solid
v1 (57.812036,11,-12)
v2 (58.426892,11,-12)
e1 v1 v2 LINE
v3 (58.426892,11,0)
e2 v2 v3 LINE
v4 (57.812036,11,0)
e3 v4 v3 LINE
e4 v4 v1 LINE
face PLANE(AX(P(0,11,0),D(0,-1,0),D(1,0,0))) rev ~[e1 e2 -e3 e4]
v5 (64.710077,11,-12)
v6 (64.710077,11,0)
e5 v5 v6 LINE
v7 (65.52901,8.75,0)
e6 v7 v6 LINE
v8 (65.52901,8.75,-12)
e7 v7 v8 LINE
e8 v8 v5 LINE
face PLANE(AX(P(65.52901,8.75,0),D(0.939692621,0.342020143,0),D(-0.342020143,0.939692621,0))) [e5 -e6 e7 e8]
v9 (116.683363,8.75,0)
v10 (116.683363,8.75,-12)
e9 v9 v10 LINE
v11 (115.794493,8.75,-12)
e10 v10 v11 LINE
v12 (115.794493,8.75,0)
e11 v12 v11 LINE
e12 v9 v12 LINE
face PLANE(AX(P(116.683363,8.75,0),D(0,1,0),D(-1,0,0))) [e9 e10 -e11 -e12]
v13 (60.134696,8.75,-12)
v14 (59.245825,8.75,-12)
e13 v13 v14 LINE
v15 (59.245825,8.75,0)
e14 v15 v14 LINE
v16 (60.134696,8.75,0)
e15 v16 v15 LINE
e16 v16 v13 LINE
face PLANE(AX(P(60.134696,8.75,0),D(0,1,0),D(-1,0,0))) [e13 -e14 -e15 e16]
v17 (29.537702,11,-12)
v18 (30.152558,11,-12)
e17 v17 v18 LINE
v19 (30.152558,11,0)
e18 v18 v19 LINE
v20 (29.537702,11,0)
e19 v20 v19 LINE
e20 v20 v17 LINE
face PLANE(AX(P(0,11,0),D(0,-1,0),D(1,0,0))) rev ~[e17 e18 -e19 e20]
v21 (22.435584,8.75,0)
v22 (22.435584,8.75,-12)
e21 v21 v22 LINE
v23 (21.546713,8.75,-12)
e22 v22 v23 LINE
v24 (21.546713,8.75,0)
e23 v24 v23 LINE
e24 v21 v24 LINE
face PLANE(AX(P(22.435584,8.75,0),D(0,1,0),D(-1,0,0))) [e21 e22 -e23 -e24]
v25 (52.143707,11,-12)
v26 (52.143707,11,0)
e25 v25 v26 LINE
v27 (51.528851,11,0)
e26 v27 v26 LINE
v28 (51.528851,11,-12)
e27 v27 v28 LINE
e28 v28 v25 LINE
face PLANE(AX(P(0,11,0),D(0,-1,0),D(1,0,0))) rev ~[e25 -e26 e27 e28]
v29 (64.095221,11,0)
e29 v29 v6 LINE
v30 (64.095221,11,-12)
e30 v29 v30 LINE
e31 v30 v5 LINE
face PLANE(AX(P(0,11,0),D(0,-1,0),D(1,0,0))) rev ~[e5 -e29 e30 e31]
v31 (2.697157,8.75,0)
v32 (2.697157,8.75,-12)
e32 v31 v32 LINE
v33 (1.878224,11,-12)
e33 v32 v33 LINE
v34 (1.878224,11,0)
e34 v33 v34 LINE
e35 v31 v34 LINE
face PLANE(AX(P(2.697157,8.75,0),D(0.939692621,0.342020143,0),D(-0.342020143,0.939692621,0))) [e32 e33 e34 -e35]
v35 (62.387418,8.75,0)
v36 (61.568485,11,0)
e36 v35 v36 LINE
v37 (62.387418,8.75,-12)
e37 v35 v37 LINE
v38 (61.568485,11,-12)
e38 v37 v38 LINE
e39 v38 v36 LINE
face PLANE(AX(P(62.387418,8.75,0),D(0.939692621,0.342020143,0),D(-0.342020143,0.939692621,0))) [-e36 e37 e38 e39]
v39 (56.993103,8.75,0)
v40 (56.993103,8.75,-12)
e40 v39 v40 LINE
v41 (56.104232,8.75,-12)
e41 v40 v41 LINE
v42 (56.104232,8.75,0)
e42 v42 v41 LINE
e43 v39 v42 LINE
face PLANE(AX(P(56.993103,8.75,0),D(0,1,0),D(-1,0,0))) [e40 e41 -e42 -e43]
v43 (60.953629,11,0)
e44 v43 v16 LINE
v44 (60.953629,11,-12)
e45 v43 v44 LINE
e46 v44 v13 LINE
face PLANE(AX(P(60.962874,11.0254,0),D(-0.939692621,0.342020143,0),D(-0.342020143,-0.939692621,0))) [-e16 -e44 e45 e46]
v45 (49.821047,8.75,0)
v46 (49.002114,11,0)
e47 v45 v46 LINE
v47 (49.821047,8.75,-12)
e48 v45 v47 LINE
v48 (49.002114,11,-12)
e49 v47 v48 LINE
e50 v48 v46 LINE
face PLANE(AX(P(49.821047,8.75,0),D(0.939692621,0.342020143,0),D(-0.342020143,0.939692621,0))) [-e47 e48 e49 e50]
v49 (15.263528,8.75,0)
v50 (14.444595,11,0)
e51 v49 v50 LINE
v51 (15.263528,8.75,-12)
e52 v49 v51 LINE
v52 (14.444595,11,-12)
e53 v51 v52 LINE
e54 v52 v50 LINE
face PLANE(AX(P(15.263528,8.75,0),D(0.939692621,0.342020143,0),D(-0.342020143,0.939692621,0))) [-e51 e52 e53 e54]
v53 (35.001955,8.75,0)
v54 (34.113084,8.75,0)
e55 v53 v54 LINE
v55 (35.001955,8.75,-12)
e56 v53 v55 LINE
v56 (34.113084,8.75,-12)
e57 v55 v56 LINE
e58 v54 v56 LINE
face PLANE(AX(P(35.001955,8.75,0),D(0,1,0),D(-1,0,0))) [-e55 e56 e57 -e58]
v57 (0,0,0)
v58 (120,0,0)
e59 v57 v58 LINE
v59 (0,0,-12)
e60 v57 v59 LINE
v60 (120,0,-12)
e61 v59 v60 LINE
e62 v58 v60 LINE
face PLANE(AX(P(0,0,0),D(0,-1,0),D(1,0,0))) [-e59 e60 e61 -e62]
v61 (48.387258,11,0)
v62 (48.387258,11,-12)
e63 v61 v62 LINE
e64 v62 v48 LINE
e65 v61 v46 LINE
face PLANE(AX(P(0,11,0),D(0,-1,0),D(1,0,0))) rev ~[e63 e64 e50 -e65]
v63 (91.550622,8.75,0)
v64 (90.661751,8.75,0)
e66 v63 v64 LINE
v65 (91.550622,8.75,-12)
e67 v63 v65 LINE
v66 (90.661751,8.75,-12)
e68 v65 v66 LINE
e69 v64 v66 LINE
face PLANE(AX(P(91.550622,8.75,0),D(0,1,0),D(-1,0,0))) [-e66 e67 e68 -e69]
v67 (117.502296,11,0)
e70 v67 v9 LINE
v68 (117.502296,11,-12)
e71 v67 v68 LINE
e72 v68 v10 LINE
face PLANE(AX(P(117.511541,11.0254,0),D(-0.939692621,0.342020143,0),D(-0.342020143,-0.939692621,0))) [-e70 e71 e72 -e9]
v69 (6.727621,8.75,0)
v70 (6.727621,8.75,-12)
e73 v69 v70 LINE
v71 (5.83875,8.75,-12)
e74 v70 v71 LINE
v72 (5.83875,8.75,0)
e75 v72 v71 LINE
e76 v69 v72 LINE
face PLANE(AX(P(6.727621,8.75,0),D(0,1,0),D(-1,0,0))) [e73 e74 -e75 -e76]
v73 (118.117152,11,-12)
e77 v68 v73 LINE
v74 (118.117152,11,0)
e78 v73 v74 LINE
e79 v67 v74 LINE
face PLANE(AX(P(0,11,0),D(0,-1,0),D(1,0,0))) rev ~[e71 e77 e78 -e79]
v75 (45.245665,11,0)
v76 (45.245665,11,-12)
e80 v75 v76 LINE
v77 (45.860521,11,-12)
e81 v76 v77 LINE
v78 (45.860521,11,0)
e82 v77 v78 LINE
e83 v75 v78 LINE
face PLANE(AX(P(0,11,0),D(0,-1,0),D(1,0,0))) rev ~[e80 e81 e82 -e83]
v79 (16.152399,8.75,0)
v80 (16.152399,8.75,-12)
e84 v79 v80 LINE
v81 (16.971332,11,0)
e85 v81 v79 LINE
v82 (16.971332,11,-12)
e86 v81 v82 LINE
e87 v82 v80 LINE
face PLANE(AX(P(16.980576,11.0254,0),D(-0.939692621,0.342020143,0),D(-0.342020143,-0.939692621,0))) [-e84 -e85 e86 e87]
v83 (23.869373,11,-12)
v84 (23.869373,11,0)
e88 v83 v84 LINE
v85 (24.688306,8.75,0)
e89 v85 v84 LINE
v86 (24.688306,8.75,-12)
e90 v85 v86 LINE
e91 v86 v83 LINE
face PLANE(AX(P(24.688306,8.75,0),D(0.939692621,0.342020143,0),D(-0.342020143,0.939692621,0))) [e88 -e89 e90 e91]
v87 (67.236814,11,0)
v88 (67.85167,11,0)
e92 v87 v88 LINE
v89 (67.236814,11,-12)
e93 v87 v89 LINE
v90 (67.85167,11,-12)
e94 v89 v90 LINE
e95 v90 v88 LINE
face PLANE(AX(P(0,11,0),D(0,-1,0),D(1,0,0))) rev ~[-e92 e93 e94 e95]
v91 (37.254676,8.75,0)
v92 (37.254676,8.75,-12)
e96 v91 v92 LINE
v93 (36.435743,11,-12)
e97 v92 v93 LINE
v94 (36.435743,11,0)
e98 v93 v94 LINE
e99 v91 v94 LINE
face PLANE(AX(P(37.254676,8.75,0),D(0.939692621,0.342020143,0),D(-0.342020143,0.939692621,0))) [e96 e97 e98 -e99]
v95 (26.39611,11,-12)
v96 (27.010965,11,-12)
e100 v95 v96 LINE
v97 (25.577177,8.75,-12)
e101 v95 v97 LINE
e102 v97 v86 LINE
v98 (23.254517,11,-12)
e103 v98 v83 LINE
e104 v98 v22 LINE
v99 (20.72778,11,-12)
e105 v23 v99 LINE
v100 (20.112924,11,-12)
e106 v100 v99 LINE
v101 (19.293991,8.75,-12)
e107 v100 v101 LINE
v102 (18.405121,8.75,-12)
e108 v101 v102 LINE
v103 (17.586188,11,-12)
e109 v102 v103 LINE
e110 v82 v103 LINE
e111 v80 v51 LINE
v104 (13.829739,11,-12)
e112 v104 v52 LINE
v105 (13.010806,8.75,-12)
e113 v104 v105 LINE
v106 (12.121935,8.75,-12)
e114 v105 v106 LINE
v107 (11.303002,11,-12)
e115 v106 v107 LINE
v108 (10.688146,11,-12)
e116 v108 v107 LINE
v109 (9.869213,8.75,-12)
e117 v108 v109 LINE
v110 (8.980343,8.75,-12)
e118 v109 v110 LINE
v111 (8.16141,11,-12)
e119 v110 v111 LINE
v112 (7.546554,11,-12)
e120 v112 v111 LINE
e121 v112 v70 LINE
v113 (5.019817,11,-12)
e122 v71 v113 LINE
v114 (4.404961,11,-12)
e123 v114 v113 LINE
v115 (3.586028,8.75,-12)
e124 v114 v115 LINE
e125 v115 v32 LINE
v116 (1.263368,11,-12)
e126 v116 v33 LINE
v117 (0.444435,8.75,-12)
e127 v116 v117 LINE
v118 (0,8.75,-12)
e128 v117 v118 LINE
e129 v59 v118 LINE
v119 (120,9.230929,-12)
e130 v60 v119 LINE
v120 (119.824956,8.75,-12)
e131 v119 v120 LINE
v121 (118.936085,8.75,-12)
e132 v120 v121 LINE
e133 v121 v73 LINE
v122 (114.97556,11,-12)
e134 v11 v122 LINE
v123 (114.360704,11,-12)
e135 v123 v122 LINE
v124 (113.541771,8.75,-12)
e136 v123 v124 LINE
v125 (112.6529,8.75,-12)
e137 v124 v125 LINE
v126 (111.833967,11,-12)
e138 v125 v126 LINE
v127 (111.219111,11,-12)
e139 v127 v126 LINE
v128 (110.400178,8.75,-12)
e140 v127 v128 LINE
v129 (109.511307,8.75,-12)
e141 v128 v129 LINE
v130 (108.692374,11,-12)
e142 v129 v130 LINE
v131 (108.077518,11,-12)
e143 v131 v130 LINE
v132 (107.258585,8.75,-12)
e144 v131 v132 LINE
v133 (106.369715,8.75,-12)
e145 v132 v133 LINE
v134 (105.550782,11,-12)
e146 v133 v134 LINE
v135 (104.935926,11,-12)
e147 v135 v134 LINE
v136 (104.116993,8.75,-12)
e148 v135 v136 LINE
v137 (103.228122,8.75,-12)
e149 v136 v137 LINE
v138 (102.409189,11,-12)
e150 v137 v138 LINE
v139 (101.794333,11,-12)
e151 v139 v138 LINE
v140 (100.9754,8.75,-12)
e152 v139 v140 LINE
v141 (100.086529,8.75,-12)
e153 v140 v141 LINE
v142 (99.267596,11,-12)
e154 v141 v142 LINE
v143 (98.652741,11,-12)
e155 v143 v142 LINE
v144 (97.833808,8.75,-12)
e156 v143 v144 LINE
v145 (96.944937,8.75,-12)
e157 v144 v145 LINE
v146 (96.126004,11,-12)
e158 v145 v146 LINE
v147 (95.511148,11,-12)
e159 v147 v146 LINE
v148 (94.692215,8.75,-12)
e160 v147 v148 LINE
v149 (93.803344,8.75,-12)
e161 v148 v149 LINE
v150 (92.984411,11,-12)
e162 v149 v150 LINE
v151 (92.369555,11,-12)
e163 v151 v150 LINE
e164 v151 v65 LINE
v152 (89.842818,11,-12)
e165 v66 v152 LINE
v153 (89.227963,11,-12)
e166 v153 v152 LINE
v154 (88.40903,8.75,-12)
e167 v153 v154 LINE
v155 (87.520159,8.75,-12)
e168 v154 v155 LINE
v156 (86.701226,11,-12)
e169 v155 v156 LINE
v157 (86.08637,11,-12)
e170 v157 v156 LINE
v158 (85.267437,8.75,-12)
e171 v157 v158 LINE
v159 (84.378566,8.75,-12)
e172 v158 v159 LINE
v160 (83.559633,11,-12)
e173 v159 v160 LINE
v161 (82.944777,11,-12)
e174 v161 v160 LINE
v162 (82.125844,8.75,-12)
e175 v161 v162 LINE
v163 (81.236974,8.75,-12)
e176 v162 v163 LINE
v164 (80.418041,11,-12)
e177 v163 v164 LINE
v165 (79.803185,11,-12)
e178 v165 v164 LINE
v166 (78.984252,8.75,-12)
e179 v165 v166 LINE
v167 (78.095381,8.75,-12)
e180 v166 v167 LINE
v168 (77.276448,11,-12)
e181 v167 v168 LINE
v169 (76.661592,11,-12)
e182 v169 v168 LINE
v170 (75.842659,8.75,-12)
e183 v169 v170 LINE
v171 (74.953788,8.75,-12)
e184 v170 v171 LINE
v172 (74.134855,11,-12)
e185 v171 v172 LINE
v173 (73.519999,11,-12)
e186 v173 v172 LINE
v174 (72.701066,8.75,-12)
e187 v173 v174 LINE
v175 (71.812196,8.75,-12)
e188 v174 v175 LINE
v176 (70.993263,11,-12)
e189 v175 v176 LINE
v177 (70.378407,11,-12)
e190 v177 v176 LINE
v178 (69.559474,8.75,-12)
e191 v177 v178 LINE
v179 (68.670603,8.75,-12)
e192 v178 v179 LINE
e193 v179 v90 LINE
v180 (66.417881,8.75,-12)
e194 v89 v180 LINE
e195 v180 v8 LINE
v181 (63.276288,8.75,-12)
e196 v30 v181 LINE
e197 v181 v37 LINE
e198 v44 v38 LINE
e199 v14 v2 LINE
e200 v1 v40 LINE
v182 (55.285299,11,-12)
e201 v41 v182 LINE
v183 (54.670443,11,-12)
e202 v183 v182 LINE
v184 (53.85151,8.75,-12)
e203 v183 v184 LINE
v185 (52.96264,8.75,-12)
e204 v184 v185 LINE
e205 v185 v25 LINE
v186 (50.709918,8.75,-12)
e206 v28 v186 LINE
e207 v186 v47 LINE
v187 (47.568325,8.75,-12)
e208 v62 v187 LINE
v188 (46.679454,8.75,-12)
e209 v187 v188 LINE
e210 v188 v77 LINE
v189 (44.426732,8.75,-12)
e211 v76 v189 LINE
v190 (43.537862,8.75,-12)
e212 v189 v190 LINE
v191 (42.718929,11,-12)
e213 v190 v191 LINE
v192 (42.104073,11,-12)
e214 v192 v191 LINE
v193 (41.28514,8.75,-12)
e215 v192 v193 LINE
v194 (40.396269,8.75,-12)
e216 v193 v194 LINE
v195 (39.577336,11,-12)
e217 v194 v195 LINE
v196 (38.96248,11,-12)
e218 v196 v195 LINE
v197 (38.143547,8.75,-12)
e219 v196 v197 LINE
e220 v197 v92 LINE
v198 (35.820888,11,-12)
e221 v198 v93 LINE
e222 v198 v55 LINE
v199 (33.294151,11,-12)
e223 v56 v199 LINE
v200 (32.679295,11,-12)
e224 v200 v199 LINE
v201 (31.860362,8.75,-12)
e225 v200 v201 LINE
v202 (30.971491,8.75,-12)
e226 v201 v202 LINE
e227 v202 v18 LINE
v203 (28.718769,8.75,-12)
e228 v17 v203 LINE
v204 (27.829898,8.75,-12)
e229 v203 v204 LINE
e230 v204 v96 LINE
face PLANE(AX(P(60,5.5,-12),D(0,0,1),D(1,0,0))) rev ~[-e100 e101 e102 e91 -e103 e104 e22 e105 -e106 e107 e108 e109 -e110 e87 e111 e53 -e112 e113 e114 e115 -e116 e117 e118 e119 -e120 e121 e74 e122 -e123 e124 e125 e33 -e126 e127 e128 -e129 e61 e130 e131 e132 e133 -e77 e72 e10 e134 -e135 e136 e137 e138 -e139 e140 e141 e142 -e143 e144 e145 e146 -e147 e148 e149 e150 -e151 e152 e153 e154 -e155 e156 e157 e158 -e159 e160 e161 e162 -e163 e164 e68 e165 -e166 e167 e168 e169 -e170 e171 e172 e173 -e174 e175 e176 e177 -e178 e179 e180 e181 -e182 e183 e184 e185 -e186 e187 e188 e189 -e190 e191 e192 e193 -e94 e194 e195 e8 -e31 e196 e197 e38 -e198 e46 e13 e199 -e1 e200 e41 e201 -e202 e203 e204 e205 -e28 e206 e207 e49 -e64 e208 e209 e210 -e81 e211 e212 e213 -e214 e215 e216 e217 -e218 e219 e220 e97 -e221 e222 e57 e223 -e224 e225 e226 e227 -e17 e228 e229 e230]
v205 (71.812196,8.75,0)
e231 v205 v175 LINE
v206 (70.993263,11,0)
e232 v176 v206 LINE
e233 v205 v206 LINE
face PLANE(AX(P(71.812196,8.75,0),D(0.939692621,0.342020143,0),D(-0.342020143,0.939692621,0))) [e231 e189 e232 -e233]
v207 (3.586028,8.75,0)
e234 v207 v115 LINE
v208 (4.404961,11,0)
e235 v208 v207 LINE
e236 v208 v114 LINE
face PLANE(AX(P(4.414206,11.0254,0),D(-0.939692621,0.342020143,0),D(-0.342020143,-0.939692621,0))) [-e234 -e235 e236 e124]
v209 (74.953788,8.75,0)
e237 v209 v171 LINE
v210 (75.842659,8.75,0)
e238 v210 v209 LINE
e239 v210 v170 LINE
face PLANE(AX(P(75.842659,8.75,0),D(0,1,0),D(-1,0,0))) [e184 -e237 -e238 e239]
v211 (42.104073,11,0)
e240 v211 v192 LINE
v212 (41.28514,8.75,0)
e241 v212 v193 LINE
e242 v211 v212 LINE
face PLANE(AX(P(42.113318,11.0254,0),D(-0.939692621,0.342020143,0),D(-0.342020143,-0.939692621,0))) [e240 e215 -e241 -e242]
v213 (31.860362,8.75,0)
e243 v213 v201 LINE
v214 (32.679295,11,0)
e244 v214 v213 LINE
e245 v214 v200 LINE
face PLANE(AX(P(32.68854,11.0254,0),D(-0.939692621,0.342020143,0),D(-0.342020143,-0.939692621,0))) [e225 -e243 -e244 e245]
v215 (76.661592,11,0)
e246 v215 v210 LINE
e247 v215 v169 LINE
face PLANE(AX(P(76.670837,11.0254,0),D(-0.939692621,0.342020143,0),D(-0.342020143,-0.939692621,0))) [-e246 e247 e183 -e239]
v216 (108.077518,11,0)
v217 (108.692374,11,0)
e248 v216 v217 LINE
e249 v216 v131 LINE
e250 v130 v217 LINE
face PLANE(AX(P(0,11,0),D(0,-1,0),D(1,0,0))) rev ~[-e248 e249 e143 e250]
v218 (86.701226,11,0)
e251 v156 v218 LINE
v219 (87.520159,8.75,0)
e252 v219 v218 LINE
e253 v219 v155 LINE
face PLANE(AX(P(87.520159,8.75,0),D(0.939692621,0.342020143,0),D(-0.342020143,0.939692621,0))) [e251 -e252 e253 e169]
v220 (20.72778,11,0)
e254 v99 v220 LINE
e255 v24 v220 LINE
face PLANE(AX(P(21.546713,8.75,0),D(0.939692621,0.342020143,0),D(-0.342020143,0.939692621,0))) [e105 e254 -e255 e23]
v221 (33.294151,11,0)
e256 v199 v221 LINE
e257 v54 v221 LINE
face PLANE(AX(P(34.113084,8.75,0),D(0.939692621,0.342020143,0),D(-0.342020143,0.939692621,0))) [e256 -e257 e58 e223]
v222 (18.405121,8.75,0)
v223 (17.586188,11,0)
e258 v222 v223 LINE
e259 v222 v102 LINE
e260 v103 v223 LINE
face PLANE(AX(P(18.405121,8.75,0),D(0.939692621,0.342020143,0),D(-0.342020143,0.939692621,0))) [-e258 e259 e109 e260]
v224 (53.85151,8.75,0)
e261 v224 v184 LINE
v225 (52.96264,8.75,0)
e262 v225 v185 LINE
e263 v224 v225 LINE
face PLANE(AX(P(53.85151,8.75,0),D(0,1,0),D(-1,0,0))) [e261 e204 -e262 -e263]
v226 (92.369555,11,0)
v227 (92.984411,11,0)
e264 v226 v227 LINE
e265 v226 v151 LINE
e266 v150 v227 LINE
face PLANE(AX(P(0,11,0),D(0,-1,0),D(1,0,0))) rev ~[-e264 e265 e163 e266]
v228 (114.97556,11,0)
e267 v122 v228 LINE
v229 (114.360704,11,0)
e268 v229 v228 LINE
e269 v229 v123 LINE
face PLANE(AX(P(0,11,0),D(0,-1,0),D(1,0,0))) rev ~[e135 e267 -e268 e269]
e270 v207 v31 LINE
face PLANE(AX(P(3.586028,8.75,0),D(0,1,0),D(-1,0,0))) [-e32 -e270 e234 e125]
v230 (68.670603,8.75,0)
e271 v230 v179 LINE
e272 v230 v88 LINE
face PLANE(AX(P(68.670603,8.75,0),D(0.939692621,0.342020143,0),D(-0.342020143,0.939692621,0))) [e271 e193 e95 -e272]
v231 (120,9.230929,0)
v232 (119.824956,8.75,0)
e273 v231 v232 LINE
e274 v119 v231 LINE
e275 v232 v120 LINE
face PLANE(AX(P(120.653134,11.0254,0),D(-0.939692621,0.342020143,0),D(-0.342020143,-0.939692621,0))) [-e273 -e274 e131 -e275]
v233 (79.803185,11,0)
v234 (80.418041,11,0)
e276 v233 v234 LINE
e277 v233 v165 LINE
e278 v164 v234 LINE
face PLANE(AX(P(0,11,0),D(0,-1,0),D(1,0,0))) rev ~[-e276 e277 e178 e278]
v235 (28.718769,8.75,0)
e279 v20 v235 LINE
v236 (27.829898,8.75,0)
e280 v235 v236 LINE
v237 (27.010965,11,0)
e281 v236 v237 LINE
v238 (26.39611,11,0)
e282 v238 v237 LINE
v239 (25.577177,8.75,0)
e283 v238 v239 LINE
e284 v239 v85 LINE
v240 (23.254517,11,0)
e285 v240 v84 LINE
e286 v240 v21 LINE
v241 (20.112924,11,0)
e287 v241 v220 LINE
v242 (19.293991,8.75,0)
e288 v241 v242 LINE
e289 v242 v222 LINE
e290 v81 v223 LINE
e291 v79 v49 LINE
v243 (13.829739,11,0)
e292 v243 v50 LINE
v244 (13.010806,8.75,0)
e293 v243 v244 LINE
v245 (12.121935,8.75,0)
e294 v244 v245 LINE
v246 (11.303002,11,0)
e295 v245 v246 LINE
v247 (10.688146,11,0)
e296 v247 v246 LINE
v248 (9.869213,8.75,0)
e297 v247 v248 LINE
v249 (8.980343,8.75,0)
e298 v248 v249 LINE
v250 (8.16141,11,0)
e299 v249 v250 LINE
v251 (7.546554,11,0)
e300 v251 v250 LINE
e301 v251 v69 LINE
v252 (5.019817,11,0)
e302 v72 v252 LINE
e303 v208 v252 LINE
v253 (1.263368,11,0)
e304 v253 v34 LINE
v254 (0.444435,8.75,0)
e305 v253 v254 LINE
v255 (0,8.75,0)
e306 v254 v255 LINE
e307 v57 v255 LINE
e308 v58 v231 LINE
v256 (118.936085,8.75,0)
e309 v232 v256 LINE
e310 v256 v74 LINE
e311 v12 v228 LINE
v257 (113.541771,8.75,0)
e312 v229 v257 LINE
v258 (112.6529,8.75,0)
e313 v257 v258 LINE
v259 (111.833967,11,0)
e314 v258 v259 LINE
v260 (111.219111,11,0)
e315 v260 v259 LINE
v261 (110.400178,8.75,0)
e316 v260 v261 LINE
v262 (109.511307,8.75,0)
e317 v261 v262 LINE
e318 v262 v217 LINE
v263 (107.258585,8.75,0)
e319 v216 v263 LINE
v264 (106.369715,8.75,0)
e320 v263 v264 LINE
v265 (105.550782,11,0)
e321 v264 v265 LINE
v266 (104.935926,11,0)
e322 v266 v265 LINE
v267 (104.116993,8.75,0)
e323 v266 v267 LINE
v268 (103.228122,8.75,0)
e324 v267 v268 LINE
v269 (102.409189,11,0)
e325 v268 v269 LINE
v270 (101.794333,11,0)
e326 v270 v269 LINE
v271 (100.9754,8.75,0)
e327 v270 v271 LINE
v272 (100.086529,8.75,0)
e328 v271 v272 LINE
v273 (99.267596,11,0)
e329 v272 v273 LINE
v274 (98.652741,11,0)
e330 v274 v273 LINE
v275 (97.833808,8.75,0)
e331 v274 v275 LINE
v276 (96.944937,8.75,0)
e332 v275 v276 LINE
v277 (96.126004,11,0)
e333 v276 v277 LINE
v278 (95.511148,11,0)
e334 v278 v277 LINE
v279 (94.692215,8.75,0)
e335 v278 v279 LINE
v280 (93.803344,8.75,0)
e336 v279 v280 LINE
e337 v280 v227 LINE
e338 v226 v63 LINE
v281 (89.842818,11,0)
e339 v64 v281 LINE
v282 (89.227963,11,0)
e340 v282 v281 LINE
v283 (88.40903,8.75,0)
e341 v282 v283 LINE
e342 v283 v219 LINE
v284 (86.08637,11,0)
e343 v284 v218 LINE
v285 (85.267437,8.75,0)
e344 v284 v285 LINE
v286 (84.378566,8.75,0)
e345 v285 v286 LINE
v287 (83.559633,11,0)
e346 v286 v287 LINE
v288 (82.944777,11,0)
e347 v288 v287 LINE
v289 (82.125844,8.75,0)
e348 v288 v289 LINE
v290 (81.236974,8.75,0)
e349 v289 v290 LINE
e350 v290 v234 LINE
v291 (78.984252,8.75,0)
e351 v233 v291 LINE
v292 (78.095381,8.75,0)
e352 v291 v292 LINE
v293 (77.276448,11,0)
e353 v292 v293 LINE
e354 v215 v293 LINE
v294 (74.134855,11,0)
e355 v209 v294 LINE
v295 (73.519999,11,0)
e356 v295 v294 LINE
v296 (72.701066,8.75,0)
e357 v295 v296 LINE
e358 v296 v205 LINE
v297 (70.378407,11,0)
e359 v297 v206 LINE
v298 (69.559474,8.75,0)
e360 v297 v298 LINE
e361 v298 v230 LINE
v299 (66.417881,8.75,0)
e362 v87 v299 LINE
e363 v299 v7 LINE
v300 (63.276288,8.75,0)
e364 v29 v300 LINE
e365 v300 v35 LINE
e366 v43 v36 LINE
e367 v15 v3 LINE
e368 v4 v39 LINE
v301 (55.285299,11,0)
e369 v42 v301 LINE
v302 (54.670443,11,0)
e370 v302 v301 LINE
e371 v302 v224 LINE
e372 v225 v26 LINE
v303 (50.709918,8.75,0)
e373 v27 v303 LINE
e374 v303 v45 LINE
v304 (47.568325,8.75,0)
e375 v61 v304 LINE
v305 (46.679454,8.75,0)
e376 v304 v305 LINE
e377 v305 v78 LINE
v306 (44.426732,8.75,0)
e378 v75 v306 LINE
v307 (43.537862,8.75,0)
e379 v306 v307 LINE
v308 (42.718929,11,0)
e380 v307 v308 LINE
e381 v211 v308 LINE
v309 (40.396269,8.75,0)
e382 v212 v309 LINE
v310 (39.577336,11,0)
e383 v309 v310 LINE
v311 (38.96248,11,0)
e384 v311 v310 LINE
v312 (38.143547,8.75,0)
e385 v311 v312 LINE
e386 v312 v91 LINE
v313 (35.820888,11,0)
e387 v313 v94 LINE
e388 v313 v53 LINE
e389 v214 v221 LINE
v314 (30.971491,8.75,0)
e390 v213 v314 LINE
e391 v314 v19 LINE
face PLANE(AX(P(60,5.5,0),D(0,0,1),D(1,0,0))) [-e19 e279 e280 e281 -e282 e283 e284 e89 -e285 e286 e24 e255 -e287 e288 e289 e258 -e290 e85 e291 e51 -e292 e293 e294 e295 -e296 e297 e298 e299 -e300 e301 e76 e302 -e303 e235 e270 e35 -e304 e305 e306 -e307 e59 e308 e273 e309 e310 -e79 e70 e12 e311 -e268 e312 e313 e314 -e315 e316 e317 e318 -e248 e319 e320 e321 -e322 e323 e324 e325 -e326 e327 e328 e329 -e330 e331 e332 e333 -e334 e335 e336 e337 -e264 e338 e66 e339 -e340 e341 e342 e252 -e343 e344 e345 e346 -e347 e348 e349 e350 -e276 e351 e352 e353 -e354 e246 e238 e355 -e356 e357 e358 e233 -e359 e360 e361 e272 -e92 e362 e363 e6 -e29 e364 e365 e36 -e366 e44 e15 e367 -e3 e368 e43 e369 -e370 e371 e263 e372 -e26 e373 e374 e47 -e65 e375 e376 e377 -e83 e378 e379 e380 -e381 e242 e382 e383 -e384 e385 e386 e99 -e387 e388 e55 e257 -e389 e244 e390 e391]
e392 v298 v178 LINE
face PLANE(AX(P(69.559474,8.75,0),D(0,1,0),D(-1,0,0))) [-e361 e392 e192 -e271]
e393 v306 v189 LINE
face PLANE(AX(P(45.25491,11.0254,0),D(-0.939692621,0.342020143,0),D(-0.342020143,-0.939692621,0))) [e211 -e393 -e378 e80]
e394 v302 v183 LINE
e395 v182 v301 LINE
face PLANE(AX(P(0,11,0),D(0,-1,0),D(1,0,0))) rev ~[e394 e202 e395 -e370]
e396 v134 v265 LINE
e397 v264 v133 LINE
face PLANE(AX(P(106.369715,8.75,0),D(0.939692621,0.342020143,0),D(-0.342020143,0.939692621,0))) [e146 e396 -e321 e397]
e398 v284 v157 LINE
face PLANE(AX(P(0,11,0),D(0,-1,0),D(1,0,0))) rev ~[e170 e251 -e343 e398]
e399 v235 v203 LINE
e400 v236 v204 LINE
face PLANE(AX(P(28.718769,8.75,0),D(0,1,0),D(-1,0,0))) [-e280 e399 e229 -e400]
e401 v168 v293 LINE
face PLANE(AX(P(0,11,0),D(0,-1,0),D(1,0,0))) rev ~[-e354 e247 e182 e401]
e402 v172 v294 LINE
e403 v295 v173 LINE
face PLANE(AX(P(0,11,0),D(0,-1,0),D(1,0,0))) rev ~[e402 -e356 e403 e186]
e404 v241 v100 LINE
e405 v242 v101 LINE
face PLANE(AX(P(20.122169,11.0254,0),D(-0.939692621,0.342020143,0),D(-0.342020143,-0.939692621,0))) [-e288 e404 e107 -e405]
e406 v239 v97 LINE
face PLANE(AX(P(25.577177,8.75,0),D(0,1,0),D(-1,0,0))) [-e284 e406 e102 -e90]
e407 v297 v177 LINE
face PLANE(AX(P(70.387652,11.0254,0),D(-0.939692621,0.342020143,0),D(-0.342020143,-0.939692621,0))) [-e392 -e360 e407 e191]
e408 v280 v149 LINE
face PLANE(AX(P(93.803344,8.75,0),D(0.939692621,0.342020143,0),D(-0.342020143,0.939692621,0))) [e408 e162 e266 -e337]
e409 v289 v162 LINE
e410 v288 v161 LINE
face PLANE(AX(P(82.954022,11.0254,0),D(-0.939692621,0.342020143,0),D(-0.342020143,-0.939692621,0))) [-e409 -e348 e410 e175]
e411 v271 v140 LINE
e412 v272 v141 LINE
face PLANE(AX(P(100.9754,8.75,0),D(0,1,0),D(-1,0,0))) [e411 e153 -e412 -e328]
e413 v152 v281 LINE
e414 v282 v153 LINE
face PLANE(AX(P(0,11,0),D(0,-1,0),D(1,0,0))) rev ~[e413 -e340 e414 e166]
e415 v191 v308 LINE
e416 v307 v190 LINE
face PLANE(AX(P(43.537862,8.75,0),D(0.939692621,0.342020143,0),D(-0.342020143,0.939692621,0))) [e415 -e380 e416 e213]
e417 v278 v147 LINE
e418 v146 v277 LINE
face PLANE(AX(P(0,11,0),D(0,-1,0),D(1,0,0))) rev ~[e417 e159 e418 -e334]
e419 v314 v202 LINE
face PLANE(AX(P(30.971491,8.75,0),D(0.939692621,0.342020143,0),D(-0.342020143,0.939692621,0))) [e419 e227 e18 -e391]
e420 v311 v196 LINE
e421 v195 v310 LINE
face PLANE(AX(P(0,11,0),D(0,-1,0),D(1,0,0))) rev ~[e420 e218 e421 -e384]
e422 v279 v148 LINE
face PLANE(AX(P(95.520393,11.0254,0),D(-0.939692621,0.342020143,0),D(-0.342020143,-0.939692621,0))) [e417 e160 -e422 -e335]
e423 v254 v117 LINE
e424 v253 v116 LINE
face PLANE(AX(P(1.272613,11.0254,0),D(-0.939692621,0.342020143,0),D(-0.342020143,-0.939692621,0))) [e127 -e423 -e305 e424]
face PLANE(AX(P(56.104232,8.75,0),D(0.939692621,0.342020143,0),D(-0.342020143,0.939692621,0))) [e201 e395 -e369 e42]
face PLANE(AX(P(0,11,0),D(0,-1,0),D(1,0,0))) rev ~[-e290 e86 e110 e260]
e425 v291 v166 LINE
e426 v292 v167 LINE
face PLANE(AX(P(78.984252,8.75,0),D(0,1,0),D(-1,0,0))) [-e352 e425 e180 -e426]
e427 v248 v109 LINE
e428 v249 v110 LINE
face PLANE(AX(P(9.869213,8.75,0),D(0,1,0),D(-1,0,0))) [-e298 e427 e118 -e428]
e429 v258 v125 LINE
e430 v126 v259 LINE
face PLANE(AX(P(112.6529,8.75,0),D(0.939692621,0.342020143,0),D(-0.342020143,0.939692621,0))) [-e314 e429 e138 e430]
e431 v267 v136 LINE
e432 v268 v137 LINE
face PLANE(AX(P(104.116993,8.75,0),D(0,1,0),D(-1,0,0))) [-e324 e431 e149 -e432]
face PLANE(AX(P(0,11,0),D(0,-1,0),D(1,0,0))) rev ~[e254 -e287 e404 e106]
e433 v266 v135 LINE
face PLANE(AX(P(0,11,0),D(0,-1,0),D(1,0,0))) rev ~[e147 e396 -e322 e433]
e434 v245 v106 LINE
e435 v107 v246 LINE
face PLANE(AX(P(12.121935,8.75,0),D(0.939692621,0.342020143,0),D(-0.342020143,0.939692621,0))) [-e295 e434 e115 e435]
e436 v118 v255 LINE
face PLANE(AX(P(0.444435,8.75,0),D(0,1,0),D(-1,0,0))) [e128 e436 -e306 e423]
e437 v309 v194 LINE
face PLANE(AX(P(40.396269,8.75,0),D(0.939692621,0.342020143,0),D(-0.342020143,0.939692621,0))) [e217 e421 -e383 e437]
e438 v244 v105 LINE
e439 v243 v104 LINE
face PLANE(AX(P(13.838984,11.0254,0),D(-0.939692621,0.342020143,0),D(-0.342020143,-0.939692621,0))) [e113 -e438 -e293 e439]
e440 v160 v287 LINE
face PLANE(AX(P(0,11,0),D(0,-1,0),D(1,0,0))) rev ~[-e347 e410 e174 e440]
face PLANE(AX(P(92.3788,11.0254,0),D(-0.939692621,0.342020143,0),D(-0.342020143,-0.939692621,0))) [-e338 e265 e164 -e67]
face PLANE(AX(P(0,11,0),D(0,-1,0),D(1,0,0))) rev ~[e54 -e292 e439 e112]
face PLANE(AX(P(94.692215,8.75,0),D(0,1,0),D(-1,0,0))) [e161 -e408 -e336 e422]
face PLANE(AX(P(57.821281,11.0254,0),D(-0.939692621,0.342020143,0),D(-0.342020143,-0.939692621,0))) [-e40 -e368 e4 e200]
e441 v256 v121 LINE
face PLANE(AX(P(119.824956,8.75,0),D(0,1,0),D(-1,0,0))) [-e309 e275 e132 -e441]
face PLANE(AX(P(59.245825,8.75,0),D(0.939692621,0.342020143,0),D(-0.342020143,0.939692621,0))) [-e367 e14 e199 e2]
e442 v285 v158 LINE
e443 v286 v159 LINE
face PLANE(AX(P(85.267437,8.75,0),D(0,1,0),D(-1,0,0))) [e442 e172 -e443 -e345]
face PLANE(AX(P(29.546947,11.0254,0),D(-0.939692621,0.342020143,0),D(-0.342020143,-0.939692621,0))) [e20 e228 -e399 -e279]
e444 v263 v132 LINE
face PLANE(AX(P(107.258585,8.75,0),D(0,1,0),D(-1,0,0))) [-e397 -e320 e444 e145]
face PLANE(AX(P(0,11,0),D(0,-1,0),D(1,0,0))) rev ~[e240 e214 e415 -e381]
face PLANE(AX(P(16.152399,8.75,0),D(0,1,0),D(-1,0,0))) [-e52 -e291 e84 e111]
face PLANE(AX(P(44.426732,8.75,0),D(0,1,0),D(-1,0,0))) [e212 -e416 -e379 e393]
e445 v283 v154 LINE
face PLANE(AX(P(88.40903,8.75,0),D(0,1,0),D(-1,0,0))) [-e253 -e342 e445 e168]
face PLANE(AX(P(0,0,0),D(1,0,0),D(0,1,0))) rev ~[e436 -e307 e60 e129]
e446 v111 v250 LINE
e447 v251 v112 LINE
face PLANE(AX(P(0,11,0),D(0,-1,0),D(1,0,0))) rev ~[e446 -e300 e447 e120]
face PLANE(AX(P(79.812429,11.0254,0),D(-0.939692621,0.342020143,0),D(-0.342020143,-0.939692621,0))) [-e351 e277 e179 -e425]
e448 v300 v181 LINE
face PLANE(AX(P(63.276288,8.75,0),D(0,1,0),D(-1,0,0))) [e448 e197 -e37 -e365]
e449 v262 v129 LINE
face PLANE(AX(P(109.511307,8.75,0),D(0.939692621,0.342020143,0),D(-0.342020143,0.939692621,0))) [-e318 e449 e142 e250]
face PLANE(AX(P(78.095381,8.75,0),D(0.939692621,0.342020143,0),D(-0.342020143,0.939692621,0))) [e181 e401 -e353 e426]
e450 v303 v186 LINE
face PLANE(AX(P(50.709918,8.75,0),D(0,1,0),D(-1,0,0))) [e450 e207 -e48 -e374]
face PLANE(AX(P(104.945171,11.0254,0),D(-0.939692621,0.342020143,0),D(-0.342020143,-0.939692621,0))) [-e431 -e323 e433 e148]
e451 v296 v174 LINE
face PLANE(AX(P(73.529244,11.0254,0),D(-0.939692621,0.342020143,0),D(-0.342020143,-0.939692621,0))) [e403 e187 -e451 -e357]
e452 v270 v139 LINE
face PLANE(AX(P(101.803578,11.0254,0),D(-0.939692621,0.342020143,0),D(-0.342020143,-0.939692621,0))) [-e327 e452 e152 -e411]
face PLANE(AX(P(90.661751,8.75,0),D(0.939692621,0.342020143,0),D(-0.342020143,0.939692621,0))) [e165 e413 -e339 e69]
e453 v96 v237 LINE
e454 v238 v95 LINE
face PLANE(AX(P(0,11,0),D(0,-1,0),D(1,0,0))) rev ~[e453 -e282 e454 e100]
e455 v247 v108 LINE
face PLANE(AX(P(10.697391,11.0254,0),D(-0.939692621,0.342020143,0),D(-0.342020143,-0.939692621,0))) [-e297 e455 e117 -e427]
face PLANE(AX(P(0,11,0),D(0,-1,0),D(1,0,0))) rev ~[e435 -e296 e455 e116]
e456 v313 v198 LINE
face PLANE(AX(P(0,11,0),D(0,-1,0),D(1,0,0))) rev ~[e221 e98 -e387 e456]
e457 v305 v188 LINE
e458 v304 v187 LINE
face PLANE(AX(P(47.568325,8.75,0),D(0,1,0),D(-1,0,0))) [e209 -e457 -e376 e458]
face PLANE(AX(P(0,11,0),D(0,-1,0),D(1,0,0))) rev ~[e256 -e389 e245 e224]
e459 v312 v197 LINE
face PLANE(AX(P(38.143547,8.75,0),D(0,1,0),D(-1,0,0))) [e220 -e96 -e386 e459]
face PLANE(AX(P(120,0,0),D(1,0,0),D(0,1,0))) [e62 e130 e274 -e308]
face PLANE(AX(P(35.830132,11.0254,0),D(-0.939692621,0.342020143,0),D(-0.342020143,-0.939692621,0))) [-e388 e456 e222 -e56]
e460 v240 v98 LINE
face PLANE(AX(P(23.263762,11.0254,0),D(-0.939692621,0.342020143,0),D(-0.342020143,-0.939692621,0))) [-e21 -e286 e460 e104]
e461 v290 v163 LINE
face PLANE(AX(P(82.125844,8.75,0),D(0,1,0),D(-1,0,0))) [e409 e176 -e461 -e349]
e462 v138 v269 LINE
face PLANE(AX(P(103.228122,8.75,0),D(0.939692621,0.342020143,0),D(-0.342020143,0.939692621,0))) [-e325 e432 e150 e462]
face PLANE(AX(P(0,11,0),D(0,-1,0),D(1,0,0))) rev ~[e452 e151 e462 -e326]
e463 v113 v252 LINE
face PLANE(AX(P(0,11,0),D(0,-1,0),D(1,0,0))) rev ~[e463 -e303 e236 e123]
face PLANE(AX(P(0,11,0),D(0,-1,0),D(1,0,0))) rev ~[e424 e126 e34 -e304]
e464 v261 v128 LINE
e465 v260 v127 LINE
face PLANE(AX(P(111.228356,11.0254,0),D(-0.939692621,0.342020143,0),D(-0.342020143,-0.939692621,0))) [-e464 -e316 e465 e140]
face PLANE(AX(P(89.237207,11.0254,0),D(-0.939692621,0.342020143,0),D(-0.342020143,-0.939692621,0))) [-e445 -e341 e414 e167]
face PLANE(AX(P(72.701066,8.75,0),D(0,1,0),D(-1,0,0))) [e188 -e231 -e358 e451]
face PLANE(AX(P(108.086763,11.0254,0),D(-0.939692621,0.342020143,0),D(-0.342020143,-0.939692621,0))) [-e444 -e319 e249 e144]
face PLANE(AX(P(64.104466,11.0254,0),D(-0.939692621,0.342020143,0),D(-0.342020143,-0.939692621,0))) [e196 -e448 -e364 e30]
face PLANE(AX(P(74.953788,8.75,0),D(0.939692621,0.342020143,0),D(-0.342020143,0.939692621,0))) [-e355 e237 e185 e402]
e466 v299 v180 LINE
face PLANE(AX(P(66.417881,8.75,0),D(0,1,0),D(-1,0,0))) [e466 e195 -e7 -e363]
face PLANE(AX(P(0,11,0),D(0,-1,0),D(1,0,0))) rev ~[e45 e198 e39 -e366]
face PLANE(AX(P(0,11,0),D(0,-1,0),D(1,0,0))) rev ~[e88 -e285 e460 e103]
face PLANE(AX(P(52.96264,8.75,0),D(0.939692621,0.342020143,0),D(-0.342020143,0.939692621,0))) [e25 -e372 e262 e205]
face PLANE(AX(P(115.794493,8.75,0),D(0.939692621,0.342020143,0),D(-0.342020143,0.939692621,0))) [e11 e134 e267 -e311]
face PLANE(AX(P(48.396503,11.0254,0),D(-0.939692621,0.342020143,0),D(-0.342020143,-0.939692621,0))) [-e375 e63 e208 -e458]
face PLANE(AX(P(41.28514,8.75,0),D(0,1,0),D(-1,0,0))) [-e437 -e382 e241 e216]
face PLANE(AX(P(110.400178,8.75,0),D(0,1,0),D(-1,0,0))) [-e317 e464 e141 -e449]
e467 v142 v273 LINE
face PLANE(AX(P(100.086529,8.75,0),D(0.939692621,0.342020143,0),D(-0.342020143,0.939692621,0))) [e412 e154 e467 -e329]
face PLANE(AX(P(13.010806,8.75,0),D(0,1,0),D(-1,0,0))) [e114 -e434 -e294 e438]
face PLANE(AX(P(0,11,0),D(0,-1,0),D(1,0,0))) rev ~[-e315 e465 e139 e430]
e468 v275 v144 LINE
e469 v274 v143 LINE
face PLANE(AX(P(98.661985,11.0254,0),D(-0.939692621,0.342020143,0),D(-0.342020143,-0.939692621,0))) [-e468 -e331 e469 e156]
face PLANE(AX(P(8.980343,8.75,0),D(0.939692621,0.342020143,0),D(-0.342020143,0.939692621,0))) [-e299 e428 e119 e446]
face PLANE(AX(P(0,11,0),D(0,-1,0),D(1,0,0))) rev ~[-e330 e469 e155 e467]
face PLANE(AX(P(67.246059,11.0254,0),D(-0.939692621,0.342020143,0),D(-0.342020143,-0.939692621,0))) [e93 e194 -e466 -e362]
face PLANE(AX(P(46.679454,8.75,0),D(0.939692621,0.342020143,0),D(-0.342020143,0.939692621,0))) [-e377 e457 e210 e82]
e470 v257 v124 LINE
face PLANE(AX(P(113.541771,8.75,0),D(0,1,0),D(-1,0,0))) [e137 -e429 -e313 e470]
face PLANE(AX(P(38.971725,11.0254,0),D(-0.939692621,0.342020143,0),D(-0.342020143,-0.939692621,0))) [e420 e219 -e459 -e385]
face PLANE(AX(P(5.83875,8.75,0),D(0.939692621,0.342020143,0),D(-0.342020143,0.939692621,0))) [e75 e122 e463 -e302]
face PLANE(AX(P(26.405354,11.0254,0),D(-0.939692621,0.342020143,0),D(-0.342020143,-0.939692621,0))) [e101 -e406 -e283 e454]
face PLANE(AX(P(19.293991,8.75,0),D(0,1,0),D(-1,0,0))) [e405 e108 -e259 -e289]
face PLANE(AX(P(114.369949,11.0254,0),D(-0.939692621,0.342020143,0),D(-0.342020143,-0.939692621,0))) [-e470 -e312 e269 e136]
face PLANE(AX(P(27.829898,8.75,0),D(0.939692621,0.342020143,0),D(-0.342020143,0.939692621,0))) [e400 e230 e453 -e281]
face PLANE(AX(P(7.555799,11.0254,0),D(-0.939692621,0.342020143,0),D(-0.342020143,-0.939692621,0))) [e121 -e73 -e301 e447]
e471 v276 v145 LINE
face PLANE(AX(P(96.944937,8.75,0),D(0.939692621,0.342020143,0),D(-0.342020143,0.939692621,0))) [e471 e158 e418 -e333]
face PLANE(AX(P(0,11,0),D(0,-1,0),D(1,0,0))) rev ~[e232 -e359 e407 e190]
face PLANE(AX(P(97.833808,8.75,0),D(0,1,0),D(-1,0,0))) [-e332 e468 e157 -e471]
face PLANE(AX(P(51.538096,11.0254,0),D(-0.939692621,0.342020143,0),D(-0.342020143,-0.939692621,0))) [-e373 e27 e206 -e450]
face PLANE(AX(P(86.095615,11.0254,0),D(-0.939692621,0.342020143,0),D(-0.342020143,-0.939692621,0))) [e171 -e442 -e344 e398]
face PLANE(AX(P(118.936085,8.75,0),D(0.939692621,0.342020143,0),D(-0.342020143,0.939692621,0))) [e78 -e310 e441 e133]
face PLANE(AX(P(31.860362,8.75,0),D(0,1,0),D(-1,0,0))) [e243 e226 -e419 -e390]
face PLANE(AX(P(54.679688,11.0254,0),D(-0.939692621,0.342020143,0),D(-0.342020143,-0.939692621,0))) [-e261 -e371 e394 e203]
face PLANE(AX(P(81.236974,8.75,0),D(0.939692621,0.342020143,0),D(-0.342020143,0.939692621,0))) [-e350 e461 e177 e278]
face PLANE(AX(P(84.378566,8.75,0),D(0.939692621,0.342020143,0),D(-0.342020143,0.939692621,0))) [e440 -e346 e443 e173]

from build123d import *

# Parameters (mm, degrees)
BLANKSKE_W        = 120
BLANKSKE_H        = 11
BLANK_DEPTH       = 12
TOOTHCUTSIM_DEPTH = 122.099132945
TEETHCUTS_COUNT   = 39
TEETHCUTS_PITCH   = 3.14159265


with BuildPart() as part:
    # BlankSke → Blank (new body)
    with BuildSketch(Plane.XY):
        with Locations((60, 5.5)):
            Rectangle(BLANKSKE_W, BLANKSKE_H)
    extrude(amount=-BLANK_DEPTH)

    # TooCutSkeSim → ToothCutSim (cut, through all)
    with BuildSketch(Plane.XY):
        Polygon((0.44443537, 8.75), (-0.44443537, 8.75), (-1.272613241, 11.0254), (1.272613241, 11.0254), align=None)
    toothcutsim = extrude(amount=-TOOTHCUTSIM_DEPTH, mode=Mode.SUBTRACT)

    # TeethCuts: ToothCutSim ×39
    with Locations(*[(i * TEETHCUTS_PITCH, 0, 0) for i in range(1, TEETHCUTS_COUNT)]):
        add(toothcutsim, mode=Mode.SUBTRACT)


solid = part.part
